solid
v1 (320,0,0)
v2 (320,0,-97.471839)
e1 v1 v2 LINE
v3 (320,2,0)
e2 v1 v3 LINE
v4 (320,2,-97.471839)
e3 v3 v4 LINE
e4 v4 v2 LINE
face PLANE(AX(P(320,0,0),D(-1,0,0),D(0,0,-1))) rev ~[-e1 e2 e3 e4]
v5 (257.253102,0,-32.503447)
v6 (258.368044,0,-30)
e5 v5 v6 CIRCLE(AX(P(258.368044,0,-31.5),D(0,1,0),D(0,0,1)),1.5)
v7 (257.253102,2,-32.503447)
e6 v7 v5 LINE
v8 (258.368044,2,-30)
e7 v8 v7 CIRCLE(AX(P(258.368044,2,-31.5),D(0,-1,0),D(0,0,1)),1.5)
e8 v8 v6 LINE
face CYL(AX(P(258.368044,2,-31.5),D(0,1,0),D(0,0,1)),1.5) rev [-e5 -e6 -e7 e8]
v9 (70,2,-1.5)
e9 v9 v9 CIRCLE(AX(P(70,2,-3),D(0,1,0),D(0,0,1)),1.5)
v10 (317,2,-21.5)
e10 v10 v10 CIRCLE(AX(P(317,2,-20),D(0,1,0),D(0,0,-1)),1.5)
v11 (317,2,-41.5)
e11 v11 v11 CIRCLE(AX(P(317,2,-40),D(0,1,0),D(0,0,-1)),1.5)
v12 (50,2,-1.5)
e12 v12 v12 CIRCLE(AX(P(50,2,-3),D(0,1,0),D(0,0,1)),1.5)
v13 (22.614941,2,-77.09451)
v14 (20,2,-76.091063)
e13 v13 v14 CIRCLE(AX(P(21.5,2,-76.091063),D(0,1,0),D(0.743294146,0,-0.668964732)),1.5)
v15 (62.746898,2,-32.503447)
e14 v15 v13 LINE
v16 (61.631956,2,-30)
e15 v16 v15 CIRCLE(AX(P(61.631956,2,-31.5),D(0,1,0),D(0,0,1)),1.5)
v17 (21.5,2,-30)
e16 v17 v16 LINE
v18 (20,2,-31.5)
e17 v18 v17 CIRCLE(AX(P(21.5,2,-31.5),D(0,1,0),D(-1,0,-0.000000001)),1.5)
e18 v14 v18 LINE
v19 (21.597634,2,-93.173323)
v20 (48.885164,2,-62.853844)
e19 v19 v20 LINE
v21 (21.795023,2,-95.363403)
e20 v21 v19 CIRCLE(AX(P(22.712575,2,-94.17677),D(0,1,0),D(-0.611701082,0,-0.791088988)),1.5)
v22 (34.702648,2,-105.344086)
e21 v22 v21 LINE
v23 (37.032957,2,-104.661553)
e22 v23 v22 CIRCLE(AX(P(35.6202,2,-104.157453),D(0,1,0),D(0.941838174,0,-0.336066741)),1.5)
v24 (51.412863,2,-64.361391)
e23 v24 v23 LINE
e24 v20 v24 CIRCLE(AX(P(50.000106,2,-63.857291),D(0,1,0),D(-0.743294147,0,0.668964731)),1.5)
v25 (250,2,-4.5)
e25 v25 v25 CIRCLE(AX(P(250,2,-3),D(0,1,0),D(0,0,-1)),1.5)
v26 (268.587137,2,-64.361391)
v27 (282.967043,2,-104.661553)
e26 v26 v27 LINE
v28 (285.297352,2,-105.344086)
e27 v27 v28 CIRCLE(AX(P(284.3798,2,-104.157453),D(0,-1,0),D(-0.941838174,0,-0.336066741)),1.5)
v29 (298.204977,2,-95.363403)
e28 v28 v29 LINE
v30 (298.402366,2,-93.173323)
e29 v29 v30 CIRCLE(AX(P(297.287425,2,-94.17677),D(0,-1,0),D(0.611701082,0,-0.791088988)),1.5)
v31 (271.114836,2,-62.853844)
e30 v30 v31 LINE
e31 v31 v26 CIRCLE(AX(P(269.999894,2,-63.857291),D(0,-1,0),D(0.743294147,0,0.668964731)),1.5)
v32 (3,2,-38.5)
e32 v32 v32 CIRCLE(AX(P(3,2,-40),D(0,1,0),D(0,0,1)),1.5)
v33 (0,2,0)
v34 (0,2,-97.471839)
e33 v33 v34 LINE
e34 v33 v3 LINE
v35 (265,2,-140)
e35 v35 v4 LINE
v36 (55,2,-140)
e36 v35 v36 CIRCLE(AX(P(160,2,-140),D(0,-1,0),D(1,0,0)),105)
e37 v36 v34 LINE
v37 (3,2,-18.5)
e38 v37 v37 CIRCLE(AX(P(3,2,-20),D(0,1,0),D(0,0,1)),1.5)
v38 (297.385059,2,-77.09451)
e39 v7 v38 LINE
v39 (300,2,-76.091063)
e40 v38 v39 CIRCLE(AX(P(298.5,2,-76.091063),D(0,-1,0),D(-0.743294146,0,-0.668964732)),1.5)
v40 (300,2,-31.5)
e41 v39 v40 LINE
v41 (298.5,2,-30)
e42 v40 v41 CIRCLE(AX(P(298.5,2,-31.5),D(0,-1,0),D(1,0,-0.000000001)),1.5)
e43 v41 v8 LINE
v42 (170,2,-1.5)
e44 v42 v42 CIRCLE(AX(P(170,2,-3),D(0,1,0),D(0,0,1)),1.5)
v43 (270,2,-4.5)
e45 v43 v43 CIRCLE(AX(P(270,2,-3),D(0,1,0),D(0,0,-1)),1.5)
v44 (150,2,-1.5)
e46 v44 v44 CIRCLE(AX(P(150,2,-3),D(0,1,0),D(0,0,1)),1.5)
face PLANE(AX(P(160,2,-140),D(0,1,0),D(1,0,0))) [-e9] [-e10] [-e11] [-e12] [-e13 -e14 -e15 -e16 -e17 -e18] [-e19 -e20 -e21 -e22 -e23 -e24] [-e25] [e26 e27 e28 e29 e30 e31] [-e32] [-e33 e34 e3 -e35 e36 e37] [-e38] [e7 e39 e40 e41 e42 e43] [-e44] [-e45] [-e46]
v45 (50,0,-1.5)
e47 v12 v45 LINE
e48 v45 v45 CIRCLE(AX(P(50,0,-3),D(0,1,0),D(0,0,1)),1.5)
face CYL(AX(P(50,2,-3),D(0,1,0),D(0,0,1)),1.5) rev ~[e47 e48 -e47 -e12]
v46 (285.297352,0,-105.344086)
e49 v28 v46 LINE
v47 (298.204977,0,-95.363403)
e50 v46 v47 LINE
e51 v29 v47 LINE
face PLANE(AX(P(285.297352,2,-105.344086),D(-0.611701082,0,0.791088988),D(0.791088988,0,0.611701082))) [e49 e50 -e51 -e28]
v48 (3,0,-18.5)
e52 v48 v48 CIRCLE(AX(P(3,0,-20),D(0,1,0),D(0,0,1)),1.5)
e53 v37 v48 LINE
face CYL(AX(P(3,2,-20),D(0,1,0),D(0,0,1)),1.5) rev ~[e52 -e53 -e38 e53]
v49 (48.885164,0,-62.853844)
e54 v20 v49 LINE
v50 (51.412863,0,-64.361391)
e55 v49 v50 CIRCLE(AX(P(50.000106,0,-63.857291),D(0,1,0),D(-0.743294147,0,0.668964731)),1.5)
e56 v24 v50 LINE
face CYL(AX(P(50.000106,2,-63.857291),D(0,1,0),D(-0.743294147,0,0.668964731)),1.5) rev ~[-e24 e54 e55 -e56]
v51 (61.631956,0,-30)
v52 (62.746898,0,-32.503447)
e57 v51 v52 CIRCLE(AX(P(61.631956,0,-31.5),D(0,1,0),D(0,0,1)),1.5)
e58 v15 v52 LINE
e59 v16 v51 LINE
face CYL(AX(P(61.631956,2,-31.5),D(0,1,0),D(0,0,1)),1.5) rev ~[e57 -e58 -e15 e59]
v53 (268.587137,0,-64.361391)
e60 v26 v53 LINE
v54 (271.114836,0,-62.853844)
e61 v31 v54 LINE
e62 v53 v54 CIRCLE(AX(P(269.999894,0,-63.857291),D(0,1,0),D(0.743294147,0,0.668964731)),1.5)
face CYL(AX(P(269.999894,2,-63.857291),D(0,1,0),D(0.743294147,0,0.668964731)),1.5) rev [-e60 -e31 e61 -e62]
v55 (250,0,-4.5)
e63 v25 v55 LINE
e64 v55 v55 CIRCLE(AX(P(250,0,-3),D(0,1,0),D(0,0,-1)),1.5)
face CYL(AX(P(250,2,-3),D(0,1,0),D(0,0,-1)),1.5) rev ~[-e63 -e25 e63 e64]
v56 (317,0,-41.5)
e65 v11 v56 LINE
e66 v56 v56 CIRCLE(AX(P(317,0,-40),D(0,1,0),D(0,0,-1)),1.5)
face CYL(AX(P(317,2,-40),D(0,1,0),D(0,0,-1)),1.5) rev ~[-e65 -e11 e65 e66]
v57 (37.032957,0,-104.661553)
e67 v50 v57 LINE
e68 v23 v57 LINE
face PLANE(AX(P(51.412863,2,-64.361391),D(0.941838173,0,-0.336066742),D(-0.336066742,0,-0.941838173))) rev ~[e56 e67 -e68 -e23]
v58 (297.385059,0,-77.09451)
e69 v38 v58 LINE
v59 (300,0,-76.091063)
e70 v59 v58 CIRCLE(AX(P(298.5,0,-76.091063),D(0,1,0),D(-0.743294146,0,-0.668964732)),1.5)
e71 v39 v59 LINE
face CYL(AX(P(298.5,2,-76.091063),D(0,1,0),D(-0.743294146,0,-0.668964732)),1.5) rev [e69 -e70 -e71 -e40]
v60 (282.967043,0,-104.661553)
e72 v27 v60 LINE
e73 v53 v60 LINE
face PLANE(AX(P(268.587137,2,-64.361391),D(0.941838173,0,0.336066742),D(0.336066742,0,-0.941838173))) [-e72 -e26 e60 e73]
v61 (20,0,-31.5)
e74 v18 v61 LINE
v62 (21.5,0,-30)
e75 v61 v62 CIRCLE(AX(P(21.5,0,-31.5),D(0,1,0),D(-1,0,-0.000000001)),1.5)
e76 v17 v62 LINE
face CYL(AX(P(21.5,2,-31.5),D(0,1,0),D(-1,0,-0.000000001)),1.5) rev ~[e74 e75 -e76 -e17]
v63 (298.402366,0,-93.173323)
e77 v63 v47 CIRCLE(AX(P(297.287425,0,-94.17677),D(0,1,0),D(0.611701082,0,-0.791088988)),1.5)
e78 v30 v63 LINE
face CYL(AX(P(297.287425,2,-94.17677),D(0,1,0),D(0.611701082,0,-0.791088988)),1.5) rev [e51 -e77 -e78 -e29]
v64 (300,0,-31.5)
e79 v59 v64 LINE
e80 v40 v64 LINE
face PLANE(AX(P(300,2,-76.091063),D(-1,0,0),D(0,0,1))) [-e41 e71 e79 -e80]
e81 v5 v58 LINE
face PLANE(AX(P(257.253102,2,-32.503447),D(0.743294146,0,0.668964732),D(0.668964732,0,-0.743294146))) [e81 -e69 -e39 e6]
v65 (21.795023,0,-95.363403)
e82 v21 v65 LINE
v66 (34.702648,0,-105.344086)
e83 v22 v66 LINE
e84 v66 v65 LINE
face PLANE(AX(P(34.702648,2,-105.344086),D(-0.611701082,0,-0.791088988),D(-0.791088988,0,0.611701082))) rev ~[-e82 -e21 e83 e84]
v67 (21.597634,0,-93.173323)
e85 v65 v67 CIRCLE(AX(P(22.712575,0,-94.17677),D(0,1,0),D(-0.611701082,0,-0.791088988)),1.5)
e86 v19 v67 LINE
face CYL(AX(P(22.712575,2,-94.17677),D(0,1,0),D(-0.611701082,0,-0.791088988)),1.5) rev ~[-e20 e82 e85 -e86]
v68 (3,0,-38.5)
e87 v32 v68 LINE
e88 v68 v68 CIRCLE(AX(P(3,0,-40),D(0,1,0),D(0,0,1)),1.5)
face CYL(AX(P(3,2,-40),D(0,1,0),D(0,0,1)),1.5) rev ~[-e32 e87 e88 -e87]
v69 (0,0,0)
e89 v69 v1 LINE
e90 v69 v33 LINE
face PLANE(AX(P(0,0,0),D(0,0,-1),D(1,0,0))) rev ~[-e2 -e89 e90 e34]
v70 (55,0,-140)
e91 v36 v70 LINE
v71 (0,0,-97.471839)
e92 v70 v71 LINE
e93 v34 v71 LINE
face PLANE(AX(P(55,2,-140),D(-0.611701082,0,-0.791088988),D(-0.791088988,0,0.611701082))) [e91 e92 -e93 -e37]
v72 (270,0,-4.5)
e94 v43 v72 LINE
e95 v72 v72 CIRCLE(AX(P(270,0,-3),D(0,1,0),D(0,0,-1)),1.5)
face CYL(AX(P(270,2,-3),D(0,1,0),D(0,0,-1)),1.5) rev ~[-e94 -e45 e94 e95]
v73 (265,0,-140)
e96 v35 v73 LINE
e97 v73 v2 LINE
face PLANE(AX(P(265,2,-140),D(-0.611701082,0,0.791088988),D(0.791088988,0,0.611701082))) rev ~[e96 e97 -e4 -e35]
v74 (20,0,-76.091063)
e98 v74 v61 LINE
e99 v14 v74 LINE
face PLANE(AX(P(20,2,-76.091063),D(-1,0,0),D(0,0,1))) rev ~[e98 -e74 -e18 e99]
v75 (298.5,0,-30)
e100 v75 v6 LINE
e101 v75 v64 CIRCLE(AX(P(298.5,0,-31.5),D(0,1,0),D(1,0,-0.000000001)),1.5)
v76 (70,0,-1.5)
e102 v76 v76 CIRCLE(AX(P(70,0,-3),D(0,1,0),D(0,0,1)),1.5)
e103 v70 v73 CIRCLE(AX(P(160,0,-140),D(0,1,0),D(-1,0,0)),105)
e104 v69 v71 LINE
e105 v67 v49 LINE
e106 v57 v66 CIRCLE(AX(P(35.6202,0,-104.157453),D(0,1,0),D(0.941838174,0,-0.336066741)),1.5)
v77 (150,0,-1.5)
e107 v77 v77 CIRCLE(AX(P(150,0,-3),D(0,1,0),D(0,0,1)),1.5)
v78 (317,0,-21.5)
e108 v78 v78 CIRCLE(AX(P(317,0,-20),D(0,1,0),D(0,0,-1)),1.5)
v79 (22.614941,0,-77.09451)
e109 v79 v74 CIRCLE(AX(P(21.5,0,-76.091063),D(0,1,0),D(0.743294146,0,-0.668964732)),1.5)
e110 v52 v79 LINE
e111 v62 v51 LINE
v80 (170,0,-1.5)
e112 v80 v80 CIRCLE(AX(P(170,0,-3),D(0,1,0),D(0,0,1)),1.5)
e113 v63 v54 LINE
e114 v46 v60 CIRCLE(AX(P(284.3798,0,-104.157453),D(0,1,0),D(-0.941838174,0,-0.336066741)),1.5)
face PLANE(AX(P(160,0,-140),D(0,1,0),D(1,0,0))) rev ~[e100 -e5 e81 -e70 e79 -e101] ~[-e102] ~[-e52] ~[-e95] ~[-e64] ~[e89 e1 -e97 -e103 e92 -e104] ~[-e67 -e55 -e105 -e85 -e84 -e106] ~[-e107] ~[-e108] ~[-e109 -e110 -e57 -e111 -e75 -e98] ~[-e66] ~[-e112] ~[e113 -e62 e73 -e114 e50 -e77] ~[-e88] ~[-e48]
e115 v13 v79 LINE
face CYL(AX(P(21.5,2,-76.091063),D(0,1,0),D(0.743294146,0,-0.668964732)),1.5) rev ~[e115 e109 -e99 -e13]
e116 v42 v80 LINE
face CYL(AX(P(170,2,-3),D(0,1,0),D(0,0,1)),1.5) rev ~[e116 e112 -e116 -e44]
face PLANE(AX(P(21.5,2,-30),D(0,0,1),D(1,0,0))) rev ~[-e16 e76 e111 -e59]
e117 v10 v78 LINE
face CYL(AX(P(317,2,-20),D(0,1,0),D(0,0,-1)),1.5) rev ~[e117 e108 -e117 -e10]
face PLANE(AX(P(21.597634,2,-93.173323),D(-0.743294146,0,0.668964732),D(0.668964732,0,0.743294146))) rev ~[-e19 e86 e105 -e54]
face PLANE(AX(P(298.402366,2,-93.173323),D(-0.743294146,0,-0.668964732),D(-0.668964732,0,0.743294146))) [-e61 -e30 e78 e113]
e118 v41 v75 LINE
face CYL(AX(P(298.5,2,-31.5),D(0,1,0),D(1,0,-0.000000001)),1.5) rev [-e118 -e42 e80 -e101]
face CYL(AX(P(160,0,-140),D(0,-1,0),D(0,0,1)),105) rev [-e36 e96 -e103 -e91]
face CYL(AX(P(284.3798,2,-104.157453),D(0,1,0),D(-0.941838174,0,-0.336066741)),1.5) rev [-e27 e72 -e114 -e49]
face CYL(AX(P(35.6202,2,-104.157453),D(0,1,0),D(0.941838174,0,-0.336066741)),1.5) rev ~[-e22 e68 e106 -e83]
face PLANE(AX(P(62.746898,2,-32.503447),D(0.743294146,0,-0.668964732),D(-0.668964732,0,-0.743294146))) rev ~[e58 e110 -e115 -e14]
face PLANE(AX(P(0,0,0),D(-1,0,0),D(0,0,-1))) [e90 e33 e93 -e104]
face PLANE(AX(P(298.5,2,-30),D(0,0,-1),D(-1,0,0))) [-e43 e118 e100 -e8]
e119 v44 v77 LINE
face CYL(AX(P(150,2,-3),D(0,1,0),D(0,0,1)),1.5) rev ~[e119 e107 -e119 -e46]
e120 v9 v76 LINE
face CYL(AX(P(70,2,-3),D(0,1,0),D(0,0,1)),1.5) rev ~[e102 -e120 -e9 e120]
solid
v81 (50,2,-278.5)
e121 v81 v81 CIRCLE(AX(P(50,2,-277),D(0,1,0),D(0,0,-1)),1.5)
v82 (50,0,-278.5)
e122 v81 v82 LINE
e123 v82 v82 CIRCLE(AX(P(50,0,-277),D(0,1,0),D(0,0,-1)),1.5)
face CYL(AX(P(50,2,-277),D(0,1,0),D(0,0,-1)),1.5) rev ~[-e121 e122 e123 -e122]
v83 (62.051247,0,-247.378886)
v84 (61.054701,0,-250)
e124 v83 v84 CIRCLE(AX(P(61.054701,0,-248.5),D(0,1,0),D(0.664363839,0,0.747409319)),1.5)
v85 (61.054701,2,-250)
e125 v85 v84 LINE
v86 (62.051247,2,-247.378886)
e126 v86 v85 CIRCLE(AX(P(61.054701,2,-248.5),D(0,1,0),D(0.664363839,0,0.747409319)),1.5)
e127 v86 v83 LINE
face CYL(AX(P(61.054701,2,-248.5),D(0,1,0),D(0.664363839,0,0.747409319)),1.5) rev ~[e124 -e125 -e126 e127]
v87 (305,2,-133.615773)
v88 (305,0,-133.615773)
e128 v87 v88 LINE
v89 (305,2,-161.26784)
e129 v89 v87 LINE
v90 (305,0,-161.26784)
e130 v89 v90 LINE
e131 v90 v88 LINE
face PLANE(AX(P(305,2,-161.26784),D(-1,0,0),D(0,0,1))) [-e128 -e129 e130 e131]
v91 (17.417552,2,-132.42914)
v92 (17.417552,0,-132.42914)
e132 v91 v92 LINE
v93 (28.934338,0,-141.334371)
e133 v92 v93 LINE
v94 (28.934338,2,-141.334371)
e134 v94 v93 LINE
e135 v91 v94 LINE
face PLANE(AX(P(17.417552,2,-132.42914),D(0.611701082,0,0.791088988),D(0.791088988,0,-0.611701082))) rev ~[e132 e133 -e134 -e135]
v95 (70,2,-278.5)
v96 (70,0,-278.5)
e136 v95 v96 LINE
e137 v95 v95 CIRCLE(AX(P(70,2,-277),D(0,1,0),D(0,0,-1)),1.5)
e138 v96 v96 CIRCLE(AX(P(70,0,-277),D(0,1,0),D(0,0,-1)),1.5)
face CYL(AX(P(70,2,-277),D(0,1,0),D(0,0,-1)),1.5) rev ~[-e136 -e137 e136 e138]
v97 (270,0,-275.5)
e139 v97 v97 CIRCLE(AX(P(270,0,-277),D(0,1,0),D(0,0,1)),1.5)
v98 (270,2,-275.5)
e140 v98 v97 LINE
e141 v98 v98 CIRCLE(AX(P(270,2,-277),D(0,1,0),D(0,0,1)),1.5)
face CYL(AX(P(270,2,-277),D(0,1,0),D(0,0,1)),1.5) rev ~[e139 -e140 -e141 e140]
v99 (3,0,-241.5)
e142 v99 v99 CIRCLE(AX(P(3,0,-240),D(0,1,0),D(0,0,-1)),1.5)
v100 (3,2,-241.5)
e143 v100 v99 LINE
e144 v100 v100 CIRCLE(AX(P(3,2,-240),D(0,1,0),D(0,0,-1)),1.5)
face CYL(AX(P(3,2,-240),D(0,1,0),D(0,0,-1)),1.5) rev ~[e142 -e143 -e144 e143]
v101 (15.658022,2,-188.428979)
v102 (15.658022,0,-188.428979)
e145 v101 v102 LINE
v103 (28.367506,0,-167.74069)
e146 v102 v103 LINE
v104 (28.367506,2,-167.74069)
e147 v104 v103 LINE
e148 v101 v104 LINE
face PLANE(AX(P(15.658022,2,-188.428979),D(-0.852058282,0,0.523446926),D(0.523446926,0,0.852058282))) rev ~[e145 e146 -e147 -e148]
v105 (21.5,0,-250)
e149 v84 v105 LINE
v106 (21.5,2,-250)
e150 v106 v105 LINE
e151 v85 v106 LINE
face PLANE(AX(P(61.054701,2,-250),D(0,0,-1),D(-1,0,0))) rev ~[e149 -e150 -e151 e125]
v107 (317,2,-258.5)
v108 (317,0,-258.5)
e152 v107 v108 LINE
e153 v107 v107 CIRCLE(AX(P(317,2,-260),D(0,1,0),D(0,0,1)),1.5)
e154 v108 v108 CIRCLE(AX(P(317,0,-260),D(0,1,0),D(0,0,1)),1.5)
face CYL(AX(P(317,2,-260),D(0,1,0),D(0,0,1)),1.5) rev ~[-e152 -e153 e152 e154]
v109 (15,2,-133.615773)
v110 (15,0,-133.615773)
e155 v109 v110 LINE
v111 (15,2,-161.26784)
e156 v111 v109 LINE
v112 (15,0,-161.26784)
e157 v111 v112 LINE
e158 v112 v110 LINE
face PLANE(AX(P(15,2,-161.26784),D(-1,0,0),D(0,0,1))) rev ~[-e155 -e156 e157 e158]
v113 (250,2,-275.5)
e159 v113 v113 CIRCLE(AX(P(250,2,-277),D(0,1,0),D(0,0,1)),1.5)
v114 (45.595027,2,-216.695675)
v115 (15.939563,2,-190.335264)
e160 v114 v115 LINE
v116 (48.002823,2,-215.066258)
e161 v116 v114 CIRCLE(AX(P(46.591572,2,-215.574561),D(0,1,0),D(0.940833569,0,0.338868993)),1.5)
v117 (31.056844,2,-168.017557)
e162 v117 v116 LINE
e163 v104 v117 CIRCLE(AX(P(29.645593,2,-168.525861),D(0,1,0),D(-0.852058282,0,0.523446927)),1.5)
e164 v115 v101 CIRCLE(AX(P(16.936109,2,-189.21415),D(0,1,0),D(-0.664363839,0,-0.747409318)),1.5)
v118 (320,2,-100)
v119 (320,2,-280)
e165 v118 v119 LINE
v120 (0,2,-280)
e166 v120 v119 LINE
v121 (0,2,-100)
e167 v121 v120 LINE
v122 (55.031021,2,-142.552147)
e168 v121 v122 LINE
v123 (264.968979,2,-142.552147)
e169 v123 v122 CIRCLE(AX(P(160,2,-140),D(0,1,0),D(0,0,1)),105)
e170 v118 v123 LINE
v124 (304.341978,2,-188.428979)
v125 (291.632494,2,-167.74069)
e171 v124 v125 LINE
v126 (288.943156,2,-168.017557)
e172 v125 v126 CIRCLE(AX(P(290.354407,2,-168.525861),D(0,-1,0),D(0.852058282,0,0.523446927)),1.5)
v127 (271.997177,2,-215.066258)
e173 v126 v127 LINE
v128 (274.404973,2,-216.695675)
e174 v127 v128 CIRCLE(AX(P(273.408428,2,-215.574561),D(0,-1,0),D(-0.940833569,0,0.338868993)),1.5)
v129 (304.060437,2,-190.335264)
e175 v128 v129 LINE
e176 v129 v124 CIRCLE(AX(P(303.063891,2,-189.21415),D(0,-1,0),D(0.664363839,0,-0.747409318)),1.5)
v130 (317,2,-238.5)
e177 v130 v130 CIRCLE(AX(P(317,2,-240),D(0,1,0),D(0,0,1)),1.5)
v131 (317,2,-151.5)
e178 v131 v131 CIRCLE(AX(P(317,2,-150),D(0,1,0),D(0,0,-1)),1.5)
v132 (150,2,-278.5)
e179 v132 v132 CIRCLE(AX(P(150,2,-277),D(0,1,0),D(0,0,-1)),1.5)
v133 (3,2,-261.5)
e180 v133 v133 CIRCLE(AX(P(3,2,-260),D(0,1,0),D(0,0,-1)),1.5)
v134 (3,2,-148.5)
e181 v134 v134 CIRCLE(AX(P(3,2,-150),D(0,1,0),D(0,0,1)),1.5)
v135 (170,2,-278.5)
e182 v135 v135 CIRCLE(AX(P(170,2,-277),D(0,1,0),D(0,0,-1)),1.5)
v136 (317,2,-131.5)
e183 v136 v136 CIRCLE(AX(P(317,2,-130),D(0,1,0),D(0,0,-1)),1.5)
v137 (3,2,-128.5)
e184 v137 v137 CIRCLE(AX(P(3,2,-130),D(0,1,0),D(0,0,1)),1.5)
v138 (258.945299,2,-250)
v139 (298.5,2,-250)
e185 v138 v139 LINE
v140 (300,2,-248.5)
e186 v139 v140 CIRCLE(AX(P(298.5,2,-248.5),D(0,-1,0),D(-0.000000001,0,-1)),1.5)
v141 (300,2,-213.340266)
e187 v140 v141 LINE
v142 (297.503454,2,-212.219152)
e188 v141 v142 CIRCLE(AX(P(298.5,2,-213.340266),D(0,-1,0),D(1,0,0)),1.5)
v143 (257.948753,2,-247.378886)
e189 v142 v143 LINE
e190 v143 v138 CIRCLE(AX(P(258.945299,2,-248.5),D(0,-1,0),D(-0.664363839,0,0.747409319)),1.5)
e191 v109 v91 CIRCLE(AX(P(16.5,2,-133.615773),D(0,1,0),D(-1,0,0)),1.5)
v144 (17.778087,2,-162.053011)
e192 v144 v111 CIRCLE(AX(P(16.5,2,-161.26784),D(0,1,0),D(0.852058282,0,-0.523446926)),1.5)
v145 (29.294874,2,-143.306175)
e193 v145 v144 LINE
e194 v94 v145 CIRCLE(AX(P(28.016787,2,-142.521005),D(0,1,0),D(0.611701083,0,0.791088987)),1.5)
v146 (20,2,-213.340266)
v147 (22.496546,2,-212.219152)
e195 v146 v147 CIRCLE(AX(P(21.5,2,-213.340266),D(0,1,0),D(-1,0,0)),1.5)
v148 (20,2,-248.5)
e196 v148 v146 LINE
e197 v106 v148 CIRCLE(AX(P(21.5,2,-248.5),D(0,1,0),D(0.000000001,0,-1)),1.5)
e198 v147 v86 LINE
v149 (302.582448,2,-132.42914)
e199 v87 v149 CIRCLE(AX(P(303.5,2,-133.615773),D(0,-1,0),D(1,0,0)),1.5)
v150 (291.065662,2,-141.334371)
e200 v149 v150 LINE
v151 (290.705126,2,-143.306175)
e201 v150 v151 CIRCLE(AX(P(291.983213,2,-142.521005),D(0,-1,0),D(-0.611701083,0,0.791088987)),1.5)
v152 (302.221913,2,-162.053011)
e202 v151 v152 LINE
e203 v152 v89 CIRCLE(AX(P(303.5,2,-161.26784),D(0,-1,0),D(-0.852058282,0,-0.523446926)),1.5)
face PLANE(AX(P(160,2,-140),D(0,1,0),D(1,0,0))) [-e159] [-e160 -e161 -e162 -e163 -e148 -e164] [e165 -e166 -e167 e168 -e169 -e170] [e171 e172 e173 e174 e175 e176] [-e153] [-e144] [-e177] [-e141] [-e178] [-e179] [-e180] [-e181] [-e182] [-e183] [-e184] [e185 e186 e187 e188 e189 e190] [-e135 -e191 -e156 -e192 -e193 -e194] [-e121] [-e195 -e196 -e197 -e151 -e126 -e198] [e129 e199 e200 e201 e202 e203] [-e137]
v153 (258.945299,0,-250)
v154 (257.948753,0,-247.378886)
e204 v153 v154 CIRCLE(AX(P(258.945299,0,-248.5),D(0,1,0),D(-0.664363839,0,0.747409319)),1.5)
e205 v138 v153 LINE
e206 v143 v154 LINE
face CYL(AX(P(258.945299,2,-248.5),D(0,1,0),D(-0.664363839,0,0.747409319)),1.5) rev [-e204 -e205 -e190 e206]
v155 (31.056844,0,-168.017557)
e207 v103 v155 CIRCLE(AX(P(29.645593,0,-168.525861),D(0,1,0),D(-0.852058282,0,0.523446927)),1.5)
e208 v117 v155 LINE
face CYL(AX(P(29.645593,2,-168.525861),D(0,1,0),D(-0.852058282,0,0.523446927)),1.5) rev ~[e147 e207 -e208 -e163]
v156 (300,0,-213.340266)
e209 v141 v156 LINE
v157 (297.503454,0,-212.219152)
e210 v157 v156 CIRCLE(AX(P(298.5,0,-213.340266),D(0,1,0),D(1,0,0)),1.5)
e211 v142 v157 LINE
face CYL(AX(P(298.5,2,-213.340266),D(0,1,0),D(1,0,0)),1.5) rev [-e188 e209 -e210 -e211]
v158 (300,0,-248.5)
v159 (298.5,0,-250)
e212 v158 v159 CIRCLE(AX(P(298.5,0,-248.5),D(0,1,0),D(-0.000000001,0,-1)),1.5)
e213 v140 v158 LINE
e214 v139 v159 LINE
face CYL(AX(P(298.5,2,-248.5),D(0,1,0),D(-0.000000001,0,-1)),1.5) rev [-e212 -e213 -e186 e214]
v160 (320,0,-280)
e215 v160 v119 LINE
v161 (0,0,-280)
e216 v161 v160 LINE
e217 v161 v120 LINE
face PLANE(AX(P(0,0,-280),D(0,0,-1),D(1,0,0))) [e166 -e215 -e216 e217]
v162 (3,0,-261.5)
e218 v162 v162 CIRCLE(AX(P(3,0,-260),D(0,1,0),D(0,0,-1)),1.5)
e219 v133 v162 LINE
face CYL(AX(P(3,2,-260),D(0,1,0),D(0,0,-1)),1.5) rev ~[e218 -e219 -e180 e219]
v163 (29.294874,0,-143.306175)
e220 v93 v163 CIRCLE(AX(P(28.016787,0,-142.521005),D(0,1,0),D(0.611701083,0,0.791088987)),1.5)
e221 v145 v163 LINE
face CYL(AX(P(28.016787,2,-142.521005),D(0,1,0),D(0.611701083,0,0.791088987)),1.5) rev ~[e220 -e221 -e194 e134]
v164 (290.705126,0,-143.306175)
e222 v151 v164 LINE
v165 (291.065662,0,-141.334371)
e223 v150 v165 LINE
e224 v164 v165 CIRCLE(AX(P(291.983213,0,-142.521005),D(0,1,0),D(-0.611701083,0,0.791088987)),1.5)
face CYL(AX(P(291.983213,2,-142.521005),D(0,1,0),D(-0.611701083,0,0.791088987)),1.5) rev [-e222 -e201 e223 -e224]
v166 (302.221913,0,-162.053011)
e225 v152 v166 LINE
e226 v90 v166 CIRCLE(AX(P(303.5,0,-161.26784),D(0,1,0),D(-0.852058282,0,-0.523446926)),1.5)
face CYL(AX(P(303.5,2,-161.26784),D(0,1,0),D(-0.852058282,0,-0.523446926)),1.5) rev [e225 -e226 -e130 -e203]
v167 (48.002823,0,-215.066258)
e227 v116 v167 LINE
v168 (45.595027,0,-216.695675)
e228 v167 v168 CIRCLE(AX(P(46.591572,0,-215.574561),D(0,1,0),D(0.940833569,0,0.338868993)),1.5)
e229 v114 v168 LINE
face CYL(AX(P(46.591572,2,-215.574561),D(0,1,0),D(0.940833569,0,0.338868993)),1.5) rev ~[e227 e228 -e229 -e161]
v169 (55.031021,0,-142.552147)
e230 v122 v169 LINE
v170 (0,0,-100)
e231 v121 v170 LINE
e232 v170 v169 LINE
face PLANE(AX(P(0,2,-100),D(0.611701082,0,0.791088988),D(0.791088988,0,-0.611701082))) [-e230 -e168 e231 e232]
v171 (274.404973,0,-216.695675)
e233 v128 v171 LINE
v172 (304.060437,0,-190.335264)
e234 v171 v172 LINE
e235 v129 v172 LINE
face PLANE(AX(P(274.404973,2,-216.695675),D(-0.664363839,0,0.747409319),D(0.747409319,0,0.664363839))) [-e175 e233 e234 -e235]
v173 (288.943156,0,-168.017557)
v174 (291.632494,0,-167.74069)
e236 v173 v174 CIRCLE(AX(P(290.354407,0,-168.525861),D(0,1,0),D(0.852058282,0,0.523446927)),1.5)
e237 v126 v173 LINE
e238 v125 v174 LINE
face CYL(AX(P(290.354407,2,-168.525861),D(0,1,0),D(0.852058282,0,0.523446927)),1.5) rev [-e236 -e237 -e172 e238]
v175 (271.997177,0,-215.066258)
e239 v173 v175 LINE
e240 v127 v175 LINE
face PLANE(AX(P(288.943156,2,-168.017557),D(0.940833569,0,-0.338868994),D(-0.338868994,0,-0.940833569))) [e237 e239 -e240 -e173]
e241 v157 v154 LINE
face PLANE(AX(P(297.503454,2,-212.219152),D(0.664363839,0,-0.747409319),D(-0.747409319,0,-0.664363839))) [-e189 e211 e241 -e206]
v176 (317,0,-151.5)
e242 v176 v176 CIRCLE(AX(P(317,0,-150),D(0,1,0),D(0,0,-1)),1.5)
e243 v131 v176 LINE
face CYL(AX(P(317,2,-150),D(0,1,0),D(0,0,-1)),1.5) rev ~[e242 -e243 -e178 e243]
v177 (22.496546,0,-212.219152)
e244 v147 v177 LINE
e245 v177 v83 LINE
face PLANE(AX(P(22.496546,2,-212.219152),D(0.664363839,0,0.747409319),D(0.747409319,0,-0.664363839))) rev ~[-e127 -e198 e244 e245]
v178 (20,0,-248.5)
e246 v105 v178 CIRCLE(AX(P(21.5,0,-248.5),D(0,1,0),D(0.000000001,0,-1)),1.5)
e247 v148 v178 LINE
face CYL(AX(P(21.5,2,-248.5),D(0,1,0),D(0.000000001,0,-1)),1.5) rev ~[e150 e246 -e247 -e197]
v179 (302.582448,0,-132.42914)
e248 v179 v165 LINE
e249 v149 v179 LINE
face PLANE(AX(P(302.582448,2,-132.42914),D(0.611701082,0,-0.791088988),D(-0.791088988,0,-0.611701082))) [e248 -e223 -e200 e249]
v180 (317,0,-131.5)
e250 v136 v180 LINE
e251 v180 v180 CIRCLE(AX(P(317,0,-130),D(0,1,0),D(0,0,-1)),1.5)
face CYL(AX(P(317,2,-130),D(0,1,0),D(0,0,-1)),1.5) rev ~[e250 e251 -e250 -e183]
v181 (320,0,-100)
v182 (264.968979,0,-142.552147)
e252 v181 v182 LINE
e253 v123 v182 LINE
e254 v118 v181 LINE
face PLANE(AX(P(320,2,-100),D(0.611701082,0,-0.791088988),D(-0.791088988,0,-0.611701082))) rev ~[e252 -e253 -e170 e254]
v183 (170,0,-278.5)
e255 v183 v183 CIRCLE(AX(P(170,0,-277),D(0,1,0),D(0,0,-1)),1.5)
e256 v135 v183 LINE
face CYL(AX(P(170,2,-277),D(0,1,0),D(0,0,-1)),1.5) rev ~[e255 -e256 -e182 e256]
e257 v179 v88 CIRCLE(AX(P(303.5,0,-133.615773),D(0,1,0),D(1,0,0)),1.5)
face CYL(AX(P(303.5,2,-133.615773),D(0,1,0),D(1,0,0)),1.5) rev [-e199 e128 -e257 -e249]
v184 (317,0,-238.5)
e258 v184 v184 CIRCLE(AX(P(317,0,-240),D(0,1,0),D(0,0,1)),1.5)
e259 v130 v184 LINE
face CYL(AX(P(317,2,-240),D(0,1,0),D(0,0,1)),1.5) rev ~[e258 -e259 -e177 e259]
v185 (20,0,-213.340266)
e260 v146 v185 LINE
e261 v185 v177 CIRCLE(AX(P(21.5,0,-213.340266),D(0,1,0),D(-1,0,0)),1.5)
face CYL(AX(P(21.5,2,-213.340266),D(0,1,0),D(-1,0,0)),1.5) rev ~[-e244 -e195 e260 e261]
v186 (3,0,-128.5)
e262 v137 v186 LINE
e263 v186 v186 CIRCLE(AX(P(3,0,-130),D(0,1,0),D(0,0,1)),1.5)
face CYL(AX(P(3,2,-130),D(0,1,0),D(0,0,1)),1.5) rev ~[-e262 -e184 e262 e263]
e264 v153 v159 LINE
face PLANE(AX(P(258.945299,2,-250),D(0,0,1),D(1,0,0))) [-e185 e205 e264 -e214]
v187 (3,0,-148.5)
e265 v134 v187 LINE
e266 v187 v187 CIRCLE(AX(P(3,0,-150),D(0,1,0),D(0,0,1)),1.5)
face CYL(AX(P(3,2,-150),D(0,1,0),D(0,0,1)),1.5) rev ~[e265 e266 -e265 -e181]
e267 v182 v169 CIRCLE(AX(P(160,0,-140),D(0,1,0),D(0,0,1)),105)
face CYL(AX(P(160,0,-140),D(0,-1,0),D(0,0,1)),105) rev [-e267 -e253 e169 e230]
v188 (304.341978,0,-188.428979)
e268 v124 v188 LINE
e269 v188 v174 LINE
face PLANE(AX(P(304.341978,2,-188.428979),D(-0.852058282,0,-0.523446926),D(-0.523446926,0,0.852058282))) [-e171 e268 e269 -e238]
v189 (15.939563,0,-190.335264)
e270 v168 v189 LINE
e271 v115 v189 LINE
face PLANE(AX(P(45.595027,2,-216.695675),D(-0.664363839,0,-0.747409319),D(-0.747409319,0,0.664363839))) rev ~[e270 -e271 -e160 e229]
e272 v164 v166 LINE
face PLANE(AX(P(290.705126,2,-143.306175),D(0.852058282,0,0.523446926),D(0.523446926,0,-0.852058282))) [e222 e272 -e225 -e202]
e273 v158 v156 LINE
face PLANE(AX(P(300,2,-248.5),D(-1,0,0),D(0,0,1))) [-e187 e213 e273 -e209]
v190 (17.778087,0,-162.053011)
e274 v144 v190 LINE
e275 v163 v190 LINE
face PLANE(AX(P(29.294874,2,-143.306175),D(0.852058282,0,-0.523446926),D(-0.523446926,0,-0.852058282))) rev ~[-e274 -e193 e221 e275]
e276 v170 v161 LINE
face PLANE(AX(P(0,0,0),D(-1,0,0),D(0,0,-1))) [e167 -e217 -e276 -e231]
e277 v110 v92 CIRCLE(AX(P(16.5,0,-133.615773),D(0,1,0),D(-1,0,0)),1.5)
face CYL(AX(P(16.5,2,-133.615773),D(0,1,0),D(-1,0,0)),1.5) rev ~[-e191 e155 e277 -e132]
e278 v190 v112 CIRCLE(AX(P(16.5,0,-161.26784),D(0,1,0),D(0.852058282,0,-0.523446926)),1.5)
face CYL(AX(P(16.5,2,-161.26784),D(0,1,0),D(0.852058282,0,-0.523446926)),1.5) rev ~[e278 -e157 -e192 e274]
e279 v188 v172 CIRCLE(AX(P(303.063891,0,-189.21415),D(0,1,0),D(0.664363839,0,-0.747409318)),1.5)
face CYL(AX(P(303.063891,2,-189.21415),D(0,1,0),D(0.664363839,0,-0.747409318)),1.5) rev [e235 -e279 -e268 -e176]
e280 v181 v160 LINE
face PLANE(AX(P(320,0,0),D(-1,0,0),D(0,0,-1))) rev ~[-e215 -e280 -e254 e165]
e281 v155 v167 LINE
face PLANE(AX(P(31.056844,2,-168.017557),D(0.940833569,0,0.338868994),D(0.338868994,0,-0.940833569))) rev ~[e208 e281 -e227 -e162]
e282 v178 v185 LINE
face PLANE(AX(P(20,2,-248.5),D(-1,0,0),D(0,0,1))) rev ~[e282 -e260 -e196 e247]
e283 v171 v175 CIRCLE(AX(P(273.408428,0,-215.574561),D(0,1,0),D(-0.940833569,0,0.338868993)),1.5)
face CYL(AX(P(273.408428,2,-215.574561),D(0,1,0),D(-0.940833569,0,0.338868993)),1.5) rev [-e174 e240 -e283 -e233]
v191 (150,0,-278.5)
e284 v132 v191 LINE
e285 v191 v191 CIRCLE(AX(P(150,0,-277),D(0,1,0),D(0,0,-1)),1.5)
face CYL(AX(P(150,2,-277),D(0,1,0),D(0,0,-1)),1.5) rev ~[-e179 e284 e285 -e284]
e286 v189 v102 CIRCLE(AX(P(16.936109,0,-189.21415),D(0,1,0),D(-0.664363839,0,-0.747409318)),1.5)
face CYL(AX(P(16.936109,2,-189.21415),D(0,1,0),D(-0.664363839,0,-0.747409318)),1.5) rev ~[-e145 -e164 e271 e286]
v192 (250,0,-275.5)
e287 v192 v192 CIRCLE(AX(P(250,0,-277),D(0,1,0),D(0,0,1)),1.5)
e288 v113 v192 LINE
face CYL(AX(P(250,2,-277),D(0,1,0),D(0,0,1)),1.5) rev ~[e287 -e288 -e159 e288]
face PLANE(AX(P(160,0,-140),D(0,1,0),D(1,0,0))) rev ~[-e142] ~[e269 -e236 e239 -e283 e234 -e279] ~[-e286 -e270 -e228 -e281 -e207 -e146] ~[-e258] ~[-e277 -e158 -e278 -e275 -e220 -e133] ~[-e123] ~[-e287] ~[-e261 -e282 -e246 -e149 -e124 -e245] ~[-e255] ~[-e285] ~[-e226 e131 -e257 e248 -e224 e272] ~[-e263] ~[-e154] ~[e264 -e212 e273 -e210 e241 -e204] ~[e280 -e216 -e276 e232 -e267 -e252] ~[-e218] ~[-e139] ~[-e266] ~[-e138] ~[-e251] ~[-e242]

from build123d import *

# Parameters (mm, degrees)
SKETCH_1_W          = 320
SKETCH_1_H          = 280
SKETCH_1_R          = 105
EXTRUDE_1_DEPTH     = 2
CUT_EXTRUDE_1_DEPTH = 426.210536088
SKETCH_3_R          = 1.5
CUT_EXTRUDE_2_DEPTH = 426.210536088
CUT_EXTRUDE_3_DEPTH = 426.210536088


with BuildPart() as part:
    # 草图1 → 凸台-拉伸1 (new body)
    with BuildSketch(Plane(origin=(0, 0, 0), x_dir=(1, 0, 0), z_dir=(0, 1, 0))):
        with Locations((160, 140)):
            Rectangle(SKETCH_1_W, SKETCH_1_H)
        with Locations(Location((160, 140, 0), (0, 0, 270))):
            Circle(SKETCH_1_R, mode=Mode.SUBTRACT)
    extrude(amount=EXTRUDE_1_DEPTH)

    # 草图2 → 切除-拉伸1 (cut, through all)
    with BuildSketch(Plane(origin=(0, 2, 0), x_dir=(1, 0, 0), z_dir=(0, 1, 0))):
        with BuildLine():
            Line((55, 140), (0, 97.471839412))
            Line((0, 97.471839412), (0, 100))
            Line((0, 100), (55.031021038, 142.552147273))
            ThreePointArc((55.031021038, 142.552147273), (55.007755546, 141.276167897), (55, 140))
        make_face()
        with BuildLine():
            Line((320, 100), (264.968978962, 142.552147273))
            ThreePointArc((264.968978962, 142.552147273), (264.992244454, 141.276167897), (265, 140))
            Line((265, 140), (320, 97.471839412))
            Line((320, 97.471839412), (320, 100))
        make_face()
    extrude(amount=-CUT_EXTRUDE_1_DEPTH, mode=Mode.SUBTRACT)


with BuildPart() as cut_extrude_1_piece_1:
    # of the separate pieces the step leaves, piece 1, a body of its own (cut_extrude_1_pieces)
    add(part.part.solids().sort_by_distance((0, 0, -280))[0])


with BuildPart() as cut_extrude_1_piece_2:
    # of the separate pieces the step leaves, piece 2, a body of its own (cut_extrude_1_pieces)
    add(part.part.solids().sort_by_distance((0, 0, 0))[0])


with BuildPart() as cut_extrude_2_tool:
    # 草图3 → 切除-拉伸2 (new, through all)
    with BuildSketch(Plane(origin=(0, 2, 0), x_dir=(1, 0, 0), z_dir=(0, 1, 0))):
        with Locations(Location((3, 40, 0), (0, 0, 270))):
            Circle(SKETCH_3_R)
        with Locations(Location((3, 20, 0), (0, 0, 270))):
            Circle(SKETCH_3_R)
        with Locations(Location((50, 3, 0), (0, 0, 270))):
            Circle(SKETCH_3_R)
        with Locations(Location((70, 3, 0), (0, 0, 270))):
            Circle(SKETCH_3_R)
        with Locations(Location((70, 277, 0), (0, 0, 90))):
            Circle(SKETCH_3_R)
        with Locations(Location((50, 277, 0), (0, 0, 90))):
            Circle(SKETCH_3_R)
        with Locations(Location((3, 260, 0), (0, 0, 90))):
            Circle(SKETCH_3_R)
        with Locations(Location((3, 240, 0), (0, 0, 90))):
            Circle(SKETCH_3_R)
        with Locations(Location((317, 240, 0), (0, 0, 270))):
            Circle(SKETCH_3_R)
        with Locations(Location((317, 260, 0), (0, 0, 270))):
            Circle(SKETCH_3_R)
        with Locations(Location((270, 277, 0), (0, 0, 270))):
            Circle(SKETCH_3_R)
        with Locations(Location((250, 277, 0), (0, 0, 270))):
            Circle(SKETCH_3_R)
        with Locations(Location((250, 3, 0), (0, 0, 90))):
            Circle(SKETCH_3_R)
        with Locations(Location((270, 3, 0), (0, 0, 90))):
            Circle(SKETCH_3_R)
        with Locations(Location((317, 20, 0), (0, 0, 90))):
            Circle(SKETCH_3_R)
        with Locations(Location((317, 40, 0), (0, 0, 90))):
            Circle(SKETCH_3_R)
        with Locations(Location((3, 150, 0), (0, 0, 270))):
            Circle(SKETCH_3_R)
        with Locations(Location((3, 130, 0), (0, 0, 270))):
            Circle(SKETCH_3_R)
        with Locations(Location((317, 130, 0), (0, 0, 90))):
            Circle(SKETCH_3_R)
        with Locations(Location((317, 150, 0), (0, 0, 90))):
            Circle(SKETCH_3_R)
        with Locations(Location((150, 3, 0), (0, 0, 270))):
            Circle(SKETCH_3_R)
        with Locations(Location((170, 3, 0), (0, 0, 270))):
            Circle(SKETCH_3_R)
        with Locations(Location((170, 277, 0), (0, 0, 90))):
            Circle(SKETCH_3_R)
        with Locations(Location((150, 277, 0), (0, 0, 90))):
            Circle(SKETCH_3_R)
    extrude(amount=-CUT_EXTRUDE_2_DEPTH)


with BuildPart() as cut_extrude_1_piece_1_1:
    add(cut_extrude_1_piece_1.part)

    # 切除-拉伸2: cut by cut_extrude_2_tool
    add(cut_extrude_2_tool.part, mode=Mode.SUBTRACT)


with BuildPart() as cut_extrude_1_piece_2_1:
    add(cut_extrude_1_piece_2.part)

    # 切除-拉伸2: cut by cut_extrude_2_tool
    add(cut_extrude_2_tool.part, mode=Mode.SUBTRACT)


with BuildPart() as cut_extrude_3_tool:
    # 草图4 → 切除-拉伸3 (new, through all)
    with BuildSketch(Plane(origin=(0, 2, 0), x_dir=(1, 0, 0), z_dir=(0, 1, 0))):
        with BuildLine():
            Line((20, 248.5), (20, 213.340265763))
            ThreePointArc((20, 213.340265763), (20.885515923, 211.971905679), (22.496545758, 212.219151785))
            Line((22.496545758, 212.219151785), (62.051246775, 247.378886022))
            ThreePointArc((62.051246775, 247.378886022), (62.456783569, 249.033070836), (61.054701016, 250))
            Line((61.054701016, 250), (21.5, 250))
            ThreePointArc((21.5, 250), (20.439339828, 249.560660172), (20, 248.5))
        make_face()
        with BuildLine():
            Line((45.595026632, 216.695675346), (15.939563384, 190.33526357))
            ThreePointArc((15.939563384, 190.33526357), (15.452205827, 189.433309239), (15.658021719, 188.428979203))
            Line((15.658021719, 188.428979203), (28.367505968, 167.740690122))
            ThreePointArc((28.367505968, 167.740690122), (29.799206253, 167.03374688), (31.056843746, 168.017557021))
            Line((31.056843746, 168.017557021), (48.002822745, 215.066257878))
            ThreePointArc((48.002822745, 215.066257878), (47.432253839, 216.816839398), (45.595026632, 216.695675346))
        make_face()
        with BuildLine():
            Line((15, 161.267840467), (15, 133.615773026))
            ThreePointArc((15, 133.615773026), (15.839064086, 132.269235348), (17.417551623, 132.429139544))
            Line((17.417551623, 132.429139544), (28.934338276, 141.334371403))
            ThreePointArc((28.934338276, 141.334371403), (29.492323955, 142.251209278), (29.294874076, 143.306175273))
            Line((29.294874076, 143.306175273), (17.778087423, 162.053010856))
            ThreePointArc((17.778087423, 162.053010856), (16.092036236, 162.711296586), (15, 161.267840467))
        make_face()
        with BuildLine():
            Line((20, 76.091062659), (20, 31.5))
            ThreePointArc((20, 31.5), (20.439339828, 30.439339828), (21.5, 30))
            Line((21.5, 30), (61.631956393, 30))
            ThreePointArc((61.631956393, 30), (63.002206488, 30.889742123), (62.746897612, 32.503447097))
            Line((62.746897612, 32.503447097), (22.614941219, 77.094509756))
            ThreePointArc((22.614941219, 77.094509756), (20.962604349, 77.491493276), (20, 76.091062659))
        make_face()
        with BuildLine():
            Line((34.702648454, 105.344086027), (21.79502329, 95.363403194))
            ThreePointArc((21.79502329, 95.363403194), (21.218630461, 94.311417312), (21.597633693, 93.173322615))
            Line((21.597633693, 93.173322615), (48.885164358, 62.853844099))
            ThreePointArc((48.885164358, 62.853844099), (50.768446808, 62.569016476), (51.412862838, 64.361391309))
            Line((51.412862838, 64.361391309), (37.032957337, 104.661552658))
            ThreePointArc((37.032957337, 104.661552658), (36.041828, 105.596976736), (34.702648454, 105.344086027))
        make_face()
        with BuildLine():
            Line((268.587137162, 64.361391309), (282.967042663, 104.661552658))
            ThreePointArc((282.967042663, 104.661552658), (283.958172, 105.596976736), (285.297351546, 105.344086027))
            Line((285.297351546, 105.344086027), (298.20497671, 95.363403194))
            ThreePointArc((298.20497671, 95.363403194), (298.781369539, 94.311417312), (298.402366307, 93.173322615))
            Line((298.402366307, 93.173322615), (271.114835642, 62.853844099))
            ThreePointArc((271.114835642, 62.853844099), (269.231553192, 62.569016476), (268.587137162, 64.361391309))
        make_face()
        with BuildLine():
            Line((257.253102388, 32.503447097), (297.385058781, 77.094509756))
            ThreePointArc((297.385058781, 77.094509756), (299.037395651, 77.491493276), (300, 76.091062659))
            Line((300, 76.091062659), (300, 31.5))
            ThreePointArc((300, 31.5), (299.560660172, 30.439339828), (298.5, 30))
            Line((298.5, 30), (258.368043607, 30))
            ThreePointArc((258.368043607, 30), (256.997793512, 30.889742123), (257.253102388, 32.503447097))
        make_face()
        with BuildLine():
            Line((290.705125924, 143.306175273), (302.221912577, 162.053010856))
            ThreePointArc((302.221912577, 162.053010856), (303.907963764, 162.711296586), (305, 161.267840467))
            Line((305, 161.267840467), (305, 133.615773026))
            ThreePointArc((305, 133.615773026), (304.160935914, 132.269235348), (302.582448377, 132.429139544))
            Line((302.582448377, 132.429139544), (291.065661724, 141.334371403))
            ThreePointArc((291.065661724, 141.334371403), (290.507676045, 142.251209278), (290.705125924, 143.306175273))
        make_face()
        with BuildLine():
            Line((288.943156254, 168.017557021), (271.997177255, 215.066257878))
            ThreePointArc((271.997177255, 215.066257878), (272.567746161, 216.816839398), (274.404973368, 216.695675346))
            Line((274.404973368, 216.695675346), (304.060436616, 190.33526357))
            ThreePointArc((304.060436616, 190.33526357), (304.547794173, 189.433309239), (304.341978281, 188.428979203))
            Line((304.341978281, 188.428979203), (291.632494032, 167.740690122))
            ThreePointArc((291.632494032, 167.740690122), (290.200793747, 167.03374688), (288.943156254, 168.017557021))
        make_face()
        with BuildLine():
            Line((258.945298984, 250), (298.5, 250))
            ThreePointArc((298.5, 250), (299.560660172, 249.560660172), (300, 248.5))
            Line((300, 248.5), (300, 213.340265763))
            ThreePointArc((300, 213.340265763), (299.114484077, 211.971905679), (297.503454242, 212.219151785))
            Line((297.503454242, 212.219151785), (257.948753225, 247.378886022))
            ThreePointArc((257.948753225, 247.378886022), (257.543216431, 249.033070836), (258.945298984, 250))
        make_face()
    extrude(amount=-CUT_EXTRUDE_3_DEPTH)


with BuildPart() as cut_extrude_1_piece_1_2:
    add(cut_extrude_1_piece_1_1.part)

    # 切除-拉伸3: cut by cut_extrude_3_tool
    add(cut_extrude_3_tool.part, mode=Mode.SUBTRACT)


with BuildPart() as cut_extrude_1_piece_2_2:
    add(cut_extrude_1_piece_2_1.part)

    # 切除-拉伸3: cut by cut_extrude_3_tool
    add(cut_extrude_3_tool.part, mode=Mode.SUBTRACT)


solid = Compound([cut_extrude_1_piece_1_2.part, cut_extrude_1_piece_2_2.part])
